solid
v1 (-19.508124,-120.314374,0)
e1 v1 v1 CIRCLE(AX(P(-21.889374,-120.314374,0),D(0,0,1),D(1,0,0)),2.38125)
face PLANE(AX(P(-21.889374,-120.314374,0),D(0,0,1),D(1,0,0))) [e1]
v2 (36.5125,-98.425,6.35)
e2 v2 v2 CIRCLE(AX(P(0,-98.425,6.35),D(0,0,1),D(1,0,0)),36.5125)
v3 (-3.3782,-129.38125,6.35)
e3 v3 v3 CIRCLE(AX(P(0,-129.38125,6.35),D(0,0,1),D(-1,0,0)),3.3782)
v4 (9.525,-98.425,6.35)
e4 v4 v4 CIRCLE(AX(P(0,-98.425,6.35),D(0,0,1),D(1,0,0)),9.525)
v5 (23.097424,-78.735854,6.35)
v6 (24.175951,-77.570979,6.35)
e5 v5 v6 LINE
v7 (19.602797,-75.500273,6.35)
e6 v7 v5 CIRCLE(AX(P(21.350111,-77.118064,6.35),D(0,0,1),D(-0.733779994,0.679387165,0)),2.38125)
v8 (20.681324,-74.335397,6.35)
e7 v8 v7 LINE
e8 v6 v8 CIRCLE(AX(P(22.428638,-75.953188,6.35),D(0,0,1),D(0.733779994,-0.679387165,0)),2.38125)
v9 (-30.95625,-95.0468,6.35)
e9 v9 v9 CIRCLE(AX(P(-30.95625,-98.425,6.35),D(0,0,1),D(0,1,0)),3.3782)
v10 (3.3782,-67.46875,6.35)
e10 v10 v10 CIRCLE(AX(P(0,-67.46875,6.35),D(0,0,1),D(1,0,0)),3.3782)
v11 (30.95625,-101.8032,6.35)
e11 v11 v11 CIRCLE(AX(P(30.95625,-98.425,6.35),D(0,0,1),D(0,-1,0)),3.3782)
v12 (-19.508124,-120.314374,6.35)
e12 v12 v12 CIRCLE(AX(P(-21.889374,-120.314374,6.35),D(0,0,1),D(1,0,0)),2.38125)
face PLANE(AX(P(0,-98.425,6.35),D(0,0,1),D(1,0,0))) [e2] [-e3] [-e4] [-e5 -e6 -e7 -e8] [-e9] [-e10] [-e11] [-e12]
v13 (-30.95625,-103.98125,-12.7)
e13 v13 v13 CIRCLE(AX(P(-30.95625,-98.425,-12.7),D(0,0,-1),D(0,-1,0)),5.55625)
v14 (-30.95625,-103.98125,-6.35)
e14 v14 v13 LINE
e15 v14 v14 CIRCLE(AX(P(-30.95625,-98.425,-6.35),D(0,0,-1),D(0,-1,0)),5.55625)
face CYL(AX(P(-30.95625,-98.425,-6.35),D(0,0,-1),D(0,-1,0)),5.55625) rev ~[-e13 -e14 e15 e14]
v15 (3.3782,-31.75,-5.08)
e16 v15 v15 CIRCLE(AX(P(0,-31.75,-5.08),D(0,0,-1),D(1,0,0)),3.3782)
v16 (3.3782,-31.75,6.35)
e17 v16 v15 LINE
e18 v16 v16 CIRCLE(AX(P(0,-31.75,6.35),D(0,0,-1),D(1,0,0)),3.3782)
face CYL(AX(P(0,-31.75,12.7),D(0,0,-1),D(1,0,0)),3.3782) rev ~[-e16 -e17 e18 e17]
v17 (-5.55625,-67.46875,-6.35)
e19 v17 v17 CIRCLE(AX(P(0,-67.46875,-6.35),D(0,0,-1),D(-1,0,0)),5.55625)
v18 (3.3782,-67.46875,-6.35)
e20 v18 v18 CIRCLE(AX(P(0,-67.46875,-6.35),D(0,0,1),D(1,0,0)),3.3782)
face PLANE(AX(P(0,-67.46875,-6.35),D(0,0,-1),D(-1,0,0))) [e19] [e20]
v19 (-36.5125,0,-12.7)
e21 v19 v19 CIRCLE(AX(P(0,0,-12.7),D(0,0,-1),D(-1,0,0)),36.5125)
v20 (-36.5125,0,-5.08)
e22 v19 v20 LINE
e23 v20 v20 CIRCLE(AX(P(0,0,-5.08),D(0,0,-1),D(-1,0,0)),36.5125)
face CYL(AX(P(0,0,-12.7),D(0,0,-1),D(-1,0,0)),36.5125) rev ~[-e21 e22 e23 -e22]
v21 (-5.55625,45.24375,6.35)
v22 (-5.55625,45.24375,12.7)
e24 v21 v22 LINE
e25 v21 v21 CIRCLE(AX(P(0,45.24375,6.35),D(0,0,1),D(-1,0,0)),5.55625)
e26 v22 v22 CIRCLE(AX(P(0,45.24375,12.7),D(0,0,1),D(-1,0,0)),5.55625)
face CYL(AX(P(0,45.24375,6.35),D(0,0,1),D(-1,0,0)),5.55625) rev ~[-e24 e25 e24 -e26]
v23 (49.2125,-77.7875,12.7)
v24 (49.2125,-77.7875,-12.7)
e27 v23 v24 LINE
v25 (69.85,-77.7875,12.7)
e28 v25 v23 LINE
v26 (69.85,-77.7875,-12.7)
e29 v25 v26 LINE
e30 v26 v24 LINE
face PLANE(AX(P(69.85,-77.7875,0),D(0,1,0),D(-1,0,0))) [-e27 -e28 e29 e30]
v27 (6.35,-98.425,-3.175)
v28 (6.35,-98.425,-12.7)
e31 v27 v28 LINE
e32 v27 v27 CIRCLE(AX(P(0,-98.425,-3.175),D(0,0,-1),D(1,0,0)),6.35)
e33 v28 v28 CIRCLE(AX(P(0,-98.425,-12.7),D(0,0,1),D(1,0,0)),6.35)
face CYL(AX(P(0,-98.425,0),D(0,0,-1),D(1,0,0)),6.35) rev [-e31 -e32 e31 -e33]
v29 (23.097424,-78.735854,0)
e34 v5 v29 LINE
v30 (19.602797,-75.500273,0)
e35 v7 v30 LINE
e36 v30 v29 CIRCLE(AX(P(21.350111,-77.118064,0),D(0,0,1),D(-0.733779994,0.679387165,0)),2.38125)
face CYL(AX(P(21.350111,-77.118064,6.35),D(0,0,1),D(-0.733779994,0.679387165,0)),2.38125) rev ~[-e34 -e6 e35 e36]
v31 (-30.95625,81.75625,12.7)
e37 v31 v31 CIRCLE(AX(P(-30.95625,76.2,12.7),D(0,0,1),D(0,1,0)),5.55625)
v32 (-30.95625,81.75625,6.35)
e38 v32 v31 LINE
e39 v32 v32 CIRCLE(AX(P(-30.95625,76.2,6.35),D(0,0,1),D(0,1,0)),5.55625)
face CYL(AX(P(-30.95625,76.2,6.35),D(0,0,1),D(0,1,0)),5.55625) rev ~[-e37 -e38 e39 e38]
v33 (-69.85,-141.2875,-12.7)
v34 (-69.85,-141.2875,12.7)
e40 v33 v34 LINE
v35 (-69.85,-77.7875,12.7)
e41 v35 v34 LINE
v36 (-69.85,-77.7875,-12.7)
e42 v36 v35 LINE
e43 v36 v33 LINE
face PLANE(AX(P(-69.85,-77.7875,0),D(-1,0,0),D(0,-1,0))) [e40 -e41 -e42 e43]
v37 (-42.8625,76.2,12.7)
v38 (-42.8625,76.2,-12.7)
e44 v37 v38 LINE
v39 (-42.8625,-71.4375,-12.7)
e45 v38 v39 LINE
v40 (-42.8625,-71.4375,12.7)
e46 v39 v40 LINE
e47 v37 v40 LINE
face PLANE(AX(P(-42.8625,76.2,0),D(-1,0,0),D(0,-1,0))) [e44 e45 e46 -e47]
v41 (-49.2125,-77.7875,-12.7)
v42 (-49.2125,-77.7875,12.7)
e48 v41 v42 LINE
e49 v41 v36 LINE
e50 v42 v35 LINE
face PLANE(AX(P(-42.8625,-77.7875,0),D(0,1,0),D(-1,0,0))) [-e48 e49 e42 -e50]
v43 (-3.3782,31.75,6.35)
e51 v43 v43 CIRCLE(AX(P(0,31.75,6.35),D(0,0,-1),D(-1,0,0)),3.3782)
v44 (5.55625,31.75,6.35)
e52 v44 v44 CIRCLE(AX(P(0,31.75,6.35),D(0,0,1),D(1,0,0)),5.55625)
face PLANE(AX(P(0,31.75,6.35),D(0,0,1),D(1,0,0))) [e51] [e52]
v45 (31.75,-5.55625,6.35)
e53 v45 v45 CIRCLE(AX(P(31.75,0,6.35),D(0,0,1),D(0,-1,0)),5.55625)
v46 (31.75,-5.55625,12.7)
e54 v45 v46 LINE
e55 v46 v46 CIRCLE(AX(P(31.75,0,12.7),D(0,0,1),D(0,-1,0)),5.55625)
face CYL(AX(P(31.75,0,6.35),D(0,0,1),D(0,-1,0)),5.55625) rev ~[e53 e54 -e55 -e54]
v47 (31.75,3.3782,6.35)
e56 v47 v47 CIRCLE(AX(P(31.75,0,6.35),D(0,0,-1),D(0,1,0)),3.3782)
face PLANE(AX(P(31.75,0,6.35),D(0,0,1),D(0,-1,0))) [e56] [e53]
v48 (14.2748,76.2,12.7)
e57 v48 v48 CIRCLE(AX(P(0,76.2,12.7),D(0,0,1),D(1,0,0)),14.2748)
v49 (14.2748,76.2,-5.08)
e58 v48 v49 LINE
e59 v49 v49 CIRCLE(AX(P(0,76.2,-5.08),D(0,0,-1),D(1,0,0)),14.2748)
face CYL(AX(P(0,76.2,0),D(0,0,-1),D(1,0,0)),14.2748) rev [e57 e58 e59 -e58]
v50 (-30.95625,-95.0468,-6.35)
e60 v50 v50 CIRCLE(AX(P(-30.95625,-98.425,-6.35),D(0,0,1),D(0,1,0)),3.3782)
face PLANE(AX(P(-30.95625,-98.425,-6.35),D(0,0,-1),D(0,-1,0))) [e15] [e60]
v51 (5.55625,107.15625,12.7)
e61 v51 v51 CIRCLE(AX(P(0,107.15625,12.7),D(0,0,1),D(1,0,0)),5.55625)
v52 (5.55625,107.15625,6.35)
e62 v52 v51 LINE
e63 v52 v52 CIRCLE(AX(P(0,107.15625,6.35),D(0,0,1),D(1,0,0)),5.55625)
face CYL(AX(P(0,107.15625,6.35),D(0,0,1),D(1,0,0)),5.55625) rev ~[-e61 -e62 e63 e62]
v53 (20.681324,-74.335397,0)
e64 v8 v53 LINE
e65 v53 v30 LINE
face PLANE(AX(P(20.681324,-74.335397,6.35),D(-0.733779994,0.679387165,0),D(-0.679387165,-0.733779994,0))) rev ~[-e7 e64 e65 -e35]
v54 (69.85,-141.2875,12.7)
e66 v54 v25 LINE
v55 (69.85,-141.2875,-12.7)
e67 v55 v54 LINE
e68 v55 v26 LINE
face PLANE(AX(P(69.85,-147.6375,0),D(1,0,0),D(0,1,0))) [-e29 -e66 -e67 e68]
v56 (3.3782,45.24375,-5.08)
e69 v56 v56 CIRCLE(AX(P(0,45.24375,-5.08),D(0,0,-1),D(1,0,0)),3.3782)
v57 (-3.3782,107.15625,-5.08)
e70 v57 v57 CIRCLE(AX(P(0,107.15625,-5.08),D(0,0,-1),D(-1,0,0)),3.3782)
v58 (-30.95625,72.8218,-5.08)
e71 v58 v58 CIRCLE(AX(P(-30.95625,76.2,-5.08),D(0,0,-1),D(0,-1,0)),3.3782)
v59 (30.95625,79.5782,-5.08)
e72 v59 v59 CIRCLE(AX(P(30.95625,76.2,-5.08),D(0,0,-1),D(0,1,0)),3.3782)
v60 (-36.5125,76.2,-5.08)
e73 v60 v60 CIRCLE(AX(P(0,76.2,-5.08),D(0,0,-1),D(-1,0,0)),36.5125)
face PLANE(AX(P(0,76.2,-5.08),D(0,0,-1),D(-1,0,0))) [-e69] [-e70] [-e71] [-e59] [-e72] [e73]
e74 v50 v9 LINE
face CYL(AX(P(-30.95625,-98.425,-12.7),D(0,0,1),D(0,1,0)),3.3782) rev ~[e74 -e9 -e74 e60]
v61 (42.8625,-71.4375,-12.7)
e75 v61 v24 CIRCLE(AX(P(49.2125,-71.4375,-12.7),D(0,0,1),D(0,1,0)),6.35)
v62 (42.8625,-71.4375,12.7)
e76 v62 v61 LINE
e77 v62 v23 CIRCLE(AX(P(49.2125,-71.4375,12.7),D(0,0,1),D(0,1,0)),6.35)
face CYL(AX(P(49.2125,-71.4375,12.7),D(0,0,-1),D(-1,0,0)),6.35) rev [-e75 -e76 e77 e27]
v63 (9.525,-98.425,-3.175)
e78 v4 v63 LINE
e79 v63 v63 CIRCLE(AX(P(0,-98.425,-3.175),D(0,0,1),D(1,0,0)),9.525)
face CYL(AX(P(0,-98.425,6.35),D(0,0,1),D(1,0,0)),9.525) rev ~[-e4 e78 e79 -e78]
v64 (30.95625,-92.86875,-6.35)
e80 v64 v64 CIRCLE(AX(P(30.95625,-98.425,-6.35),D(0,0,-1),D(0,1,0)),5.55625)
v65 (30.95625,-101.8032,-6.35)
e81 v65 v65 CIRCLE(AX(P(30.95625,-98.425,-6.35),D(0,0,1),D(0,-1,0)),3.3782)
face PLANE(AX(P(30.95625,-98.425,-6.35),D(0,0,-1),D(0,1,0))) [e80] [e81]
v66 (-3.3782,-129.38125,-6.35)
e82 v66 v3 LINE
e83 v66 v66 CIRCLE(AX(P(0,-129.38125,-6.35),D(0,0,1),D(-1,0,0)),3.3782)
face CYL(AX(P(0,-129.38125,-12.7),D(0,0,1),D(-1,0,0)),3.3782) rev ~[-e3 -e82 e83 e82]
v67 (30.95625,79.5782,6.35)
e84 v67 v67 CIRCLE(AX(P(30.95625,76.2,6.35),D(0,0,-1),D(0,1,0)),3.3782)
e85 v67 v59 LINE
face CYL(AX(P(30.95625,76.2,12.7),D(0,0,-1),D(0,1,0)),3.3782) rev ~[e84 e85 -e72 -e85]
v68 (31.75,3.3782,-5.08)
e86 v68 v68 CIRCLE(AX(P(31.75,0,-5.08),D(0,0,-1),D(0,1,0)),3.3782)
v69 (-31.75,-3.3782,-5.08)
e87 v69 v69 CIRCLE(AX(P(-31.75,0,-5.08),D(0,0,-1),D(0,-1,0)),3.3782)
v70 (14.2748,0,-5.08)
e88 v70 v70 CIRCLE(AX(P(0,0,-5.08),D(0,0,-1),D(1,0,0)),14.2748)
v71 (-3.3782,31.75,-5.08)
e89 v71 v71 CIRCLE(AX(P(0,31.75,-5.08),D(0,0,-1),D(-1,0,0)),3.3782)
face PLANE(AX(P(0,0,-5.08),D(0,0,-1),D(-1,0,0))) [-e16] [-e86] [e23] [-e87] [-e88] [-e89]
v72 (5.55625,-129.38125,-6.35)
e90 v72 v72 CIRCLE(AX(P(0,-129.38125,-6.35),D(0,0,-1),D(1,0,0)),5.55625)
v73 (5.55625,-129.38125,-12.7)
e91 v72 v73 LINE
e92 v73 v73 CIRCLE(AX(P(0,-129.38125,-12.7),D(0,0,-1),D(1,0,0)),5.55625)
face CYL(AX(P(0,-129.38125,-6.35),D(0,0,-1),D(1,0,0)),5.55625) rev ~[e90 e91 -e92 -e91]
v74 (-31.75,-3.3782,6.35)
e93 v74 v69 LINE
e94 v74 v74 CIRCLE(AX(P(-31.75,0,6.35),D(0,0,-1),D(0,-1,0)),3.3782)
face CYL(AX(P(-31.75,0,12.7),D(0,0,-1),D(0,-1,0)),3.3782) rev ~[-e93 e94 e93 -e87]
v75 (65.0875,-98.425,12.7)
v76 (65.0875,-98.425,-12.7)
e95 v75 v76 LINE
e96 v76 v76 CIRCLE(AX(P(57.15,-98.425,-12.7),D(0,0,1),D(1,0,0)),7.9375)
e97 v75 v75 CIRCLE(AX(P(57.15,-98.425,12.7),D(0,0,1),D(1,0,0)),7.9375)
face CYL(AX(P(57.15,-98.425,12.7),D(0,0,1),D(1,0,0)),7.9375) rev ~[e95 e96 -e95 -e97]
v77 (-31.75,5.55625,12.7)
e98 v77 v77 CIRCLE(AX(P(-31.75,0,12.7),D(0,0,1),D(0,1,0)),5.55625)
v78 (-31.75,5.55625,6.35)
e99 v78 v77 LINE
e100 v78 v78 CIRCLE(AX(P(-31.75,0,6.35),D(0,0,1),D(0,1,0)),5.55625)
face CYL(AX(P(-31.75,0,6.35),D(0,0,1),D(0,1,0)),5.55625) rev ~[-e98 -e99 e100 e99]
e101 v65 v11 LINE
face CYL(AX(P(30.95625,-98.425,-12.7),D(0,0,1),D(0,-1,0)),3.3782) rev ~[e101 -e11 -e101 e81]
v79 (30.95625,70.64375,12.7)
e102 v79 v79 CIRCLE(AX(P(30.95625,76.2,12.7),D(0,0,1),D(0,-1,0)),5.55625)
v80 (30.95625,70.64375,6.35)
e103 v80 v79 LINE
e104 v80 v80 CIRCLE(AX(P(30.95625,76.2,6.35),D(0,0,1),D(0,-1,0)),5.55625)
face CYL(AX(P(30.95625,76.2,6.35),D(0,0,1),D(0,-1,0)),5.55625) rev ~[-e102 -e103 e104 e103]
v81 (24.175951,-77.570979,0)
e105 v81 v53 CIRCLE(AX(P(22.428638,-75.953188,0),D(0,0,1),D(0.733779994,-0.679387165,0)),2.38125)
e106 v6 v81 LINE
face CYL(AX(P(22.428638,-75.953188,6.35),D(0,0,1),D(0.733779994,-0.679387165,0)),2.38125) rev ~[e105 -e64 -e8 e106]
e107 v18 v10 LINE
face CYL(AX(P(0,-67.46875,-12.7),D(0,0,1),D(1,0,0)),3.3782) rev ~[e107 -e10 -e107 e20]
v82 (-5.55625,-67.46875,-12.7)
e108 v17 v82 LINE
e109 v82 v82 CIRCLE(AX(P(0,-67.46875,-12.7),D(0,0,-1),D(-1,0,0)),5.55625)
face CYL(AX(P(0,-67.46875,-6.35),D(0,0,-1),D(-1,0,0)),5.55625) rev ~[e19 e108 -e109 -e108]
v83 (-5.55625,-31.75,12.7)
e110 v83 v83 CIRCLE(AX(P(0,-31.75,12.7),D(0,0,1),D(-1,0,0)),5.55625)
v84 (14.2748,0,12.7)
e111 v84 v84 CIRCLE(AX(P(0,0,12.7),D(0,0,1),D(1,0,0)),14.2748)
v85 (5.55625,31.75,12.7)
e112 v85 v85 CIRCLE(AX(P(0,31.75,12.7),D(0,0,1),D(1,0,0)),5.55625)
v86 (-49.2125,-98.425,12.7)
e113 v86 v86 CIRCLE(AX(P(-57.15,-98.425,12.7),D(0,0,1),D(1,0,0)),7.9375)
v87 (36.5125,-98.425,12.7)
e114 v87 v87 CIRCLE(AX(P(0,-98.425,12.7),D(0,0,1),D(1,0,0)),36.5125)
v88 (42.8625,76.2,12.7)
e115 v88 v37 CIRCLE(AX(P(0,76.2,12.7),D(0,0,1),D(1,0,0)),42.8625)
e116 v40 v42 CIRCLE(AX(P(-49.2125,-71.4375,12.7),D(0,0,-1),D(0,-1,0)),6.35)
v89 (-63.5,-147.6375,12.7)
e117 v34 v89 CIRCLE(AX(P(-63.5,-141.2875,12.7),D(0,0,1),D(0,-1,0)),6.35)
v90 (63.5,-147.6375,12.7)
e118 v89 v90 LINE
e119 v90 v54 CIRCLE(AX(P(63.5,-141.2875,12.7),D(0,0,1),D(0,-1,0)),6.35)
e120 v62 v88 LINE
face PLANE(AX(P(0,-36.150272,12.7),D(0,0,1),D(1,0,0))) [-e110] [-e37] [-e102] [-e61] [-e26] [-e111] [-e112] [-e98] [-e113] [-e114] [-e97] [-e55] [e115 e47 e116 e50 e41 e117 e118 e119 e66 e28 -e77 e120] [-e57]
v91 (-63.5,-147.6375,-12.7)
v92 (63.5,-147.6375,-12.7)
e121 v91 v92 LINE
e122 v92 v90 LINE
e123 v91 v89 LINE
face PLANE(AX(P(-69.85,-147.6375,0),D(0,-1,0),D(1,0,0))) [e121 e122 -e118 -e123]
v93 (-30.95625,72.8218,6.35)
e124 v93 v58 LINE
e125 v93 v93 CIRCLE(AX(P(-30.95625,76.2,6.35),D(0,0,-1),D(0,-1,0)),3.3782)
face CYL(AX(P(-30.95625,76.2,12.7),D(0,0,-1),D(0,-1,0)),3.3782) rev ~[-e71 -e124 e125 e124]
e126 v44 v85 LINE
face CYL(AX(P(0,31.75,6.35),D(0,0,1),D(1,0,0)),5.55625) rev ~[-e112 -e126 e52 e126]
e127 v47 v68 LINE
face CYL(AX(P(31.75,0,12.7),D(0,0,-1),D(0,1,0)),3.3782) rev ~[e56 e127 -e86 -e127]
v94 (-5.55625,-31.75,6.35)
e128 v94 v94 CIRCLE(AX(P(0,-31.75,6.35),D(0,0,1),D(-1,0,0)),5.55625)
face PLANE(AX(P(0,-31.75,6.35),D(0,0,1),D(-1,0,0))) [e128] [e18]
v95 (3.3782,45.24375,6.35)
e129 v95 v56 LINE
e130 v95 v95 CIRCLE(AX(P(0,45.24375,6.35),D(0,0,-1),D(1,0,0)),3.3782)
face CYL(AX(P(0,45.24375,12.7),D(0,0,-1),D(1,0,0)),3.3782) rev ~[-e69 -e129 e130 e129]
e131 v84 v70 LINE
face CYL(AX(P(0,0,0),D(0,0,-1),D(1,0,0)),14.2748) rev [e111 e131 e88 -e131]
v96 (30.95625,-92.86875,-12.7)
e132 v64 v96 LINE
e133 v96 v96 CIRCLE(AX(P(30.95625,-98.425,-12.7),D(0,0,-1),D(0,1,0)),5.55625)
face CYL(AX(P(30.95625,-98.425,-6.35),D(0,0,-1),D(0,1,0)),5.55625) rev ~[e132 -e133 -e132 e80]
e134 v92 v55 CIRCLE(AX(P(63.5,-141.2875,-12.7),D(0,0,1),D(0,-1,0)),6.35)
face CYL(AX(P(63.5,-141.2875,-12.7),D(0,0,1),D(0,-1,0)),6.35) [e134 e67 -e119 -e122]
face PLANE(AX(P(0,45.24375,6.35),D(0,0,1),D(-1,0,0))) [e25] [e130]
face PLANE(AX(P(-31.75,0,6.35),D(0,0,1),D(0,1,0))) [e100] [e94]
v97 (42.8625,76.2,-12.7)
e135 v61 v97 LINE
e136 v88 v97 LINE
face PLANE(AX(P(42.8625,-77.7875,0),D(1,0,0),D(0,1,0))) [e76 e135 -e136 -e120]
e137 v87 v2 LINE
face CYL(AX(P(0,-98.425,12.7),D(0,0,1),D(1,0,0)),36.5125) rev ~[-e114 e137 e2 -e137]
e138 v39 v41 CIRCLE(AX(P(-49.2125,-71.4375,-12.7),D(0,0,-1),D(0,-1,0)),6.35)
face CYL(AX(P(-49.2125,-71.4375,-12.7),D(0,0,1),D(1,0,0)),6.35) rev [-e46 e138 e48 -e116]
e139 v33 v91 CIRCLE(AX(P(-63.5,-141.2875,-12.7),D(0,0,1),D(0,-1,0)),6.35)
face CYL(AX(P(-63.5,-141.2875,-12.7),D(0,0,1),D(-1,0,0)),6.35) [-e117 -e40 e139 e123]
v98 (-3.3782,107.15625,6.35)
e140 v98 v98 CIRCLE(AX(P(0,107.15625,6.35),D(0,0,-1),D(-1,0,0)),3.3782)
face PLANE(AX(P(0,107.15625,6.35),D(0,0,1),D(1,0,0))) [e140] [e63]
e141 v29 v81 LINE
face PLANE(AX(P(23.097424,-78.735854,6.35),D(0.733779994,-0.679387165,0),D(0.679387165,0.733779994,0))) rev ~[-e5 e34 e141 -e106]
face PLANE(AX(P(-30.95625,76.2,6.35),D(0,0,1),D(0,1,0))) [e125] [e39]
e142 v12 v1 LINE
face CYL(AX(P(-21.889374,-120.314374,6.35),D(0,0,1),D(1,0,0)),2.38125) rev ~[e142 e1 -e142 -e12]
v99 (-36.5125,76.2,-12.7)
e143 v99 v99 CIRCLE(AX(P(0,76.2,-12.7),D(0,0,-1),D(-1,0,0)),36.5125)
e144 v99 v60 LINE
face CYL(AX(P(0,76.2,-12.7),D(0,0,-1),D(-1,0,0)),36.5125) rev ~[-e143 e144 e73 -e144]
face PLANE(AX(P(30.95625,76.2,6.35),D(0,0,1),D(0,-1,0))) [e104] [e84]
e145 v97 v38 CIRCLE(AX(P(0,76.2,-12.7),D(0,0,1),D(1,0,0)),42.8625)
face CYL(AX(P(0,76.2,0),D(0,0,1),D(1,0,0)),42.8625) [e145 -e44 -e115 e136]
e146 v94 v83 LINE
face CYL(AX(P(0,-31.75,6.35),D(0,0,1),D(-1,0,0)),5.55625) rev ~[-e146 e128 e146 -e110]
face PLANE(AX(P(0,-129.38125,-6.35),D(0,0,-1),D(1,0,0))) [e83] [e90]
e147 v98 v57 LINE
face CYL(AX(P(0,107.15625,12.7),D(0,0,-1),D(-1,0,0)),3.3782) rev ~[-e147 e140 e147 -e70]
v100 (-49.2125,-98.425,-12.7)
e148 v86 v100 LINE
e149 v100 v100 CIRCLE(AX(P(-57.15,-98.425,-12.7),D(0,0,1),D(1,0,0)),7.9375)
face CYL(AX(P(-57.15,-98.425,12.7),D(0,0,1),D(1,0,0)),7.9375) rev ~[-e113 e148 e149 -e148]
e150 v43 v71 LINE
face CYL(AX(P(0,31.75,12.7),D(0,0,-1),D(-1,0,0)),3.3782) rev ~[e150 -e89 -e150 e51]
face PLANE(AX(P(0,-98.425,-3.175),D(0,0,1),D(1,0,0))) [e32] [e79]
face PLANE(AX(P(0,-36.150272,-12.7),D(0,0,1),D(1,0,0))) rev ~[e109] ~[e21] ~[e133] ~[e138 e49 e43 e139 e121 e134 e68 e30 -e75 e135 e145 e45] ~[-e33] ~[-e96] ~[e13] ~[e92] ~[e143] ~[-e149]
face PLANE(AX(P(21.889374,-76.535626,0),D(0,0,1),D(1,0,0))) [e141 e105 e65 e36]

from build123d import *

# Parameters (mm, degrees)
BOLT_CIRCLE_R                                     = 14.2748
BOLT_CIRCLE_R_2                                   = 6.35
BASE_DEPTH                                        = 12.7
STRUCTURE_TUBE_CONNECTION_COUNTERBORE_D           = 6.7564
STRUCTURE_TUBE_CONNECTION_COUNTERBORE_CBORE_D     = 11.1125
STRUCTURE_TUBE_CONNECTION_COUNTERBORE_CBORE_DEPTH = 6.35
STRUCTURE_TUBE_CONNECTION_COUNTERBORE_PA_COUNT    = 4
SPINDLE_CONNECTION_COUNTERBORE_D                  = 6.7564
SPINDLE_CONNECTION_COUNTERBORE_CBORE_D            = 11.1125
SPINDLE_CONNECTION_COUNTERBORE_CBORE_DEPTH        = 6.35
SPINDLE_CONNECTION_COUNTERBORE_PATTERN_COUNT      = 4
SKETCH16_R                                        = 36.5125
STRUCTURE_TUBE_MOUNTING_POCKET_DEPTH              = 6.35
SKETCH17_R                                        = 36.5125
SPINDLE_MOUNTING_POCKET_DEPTH                     = 7.62
SKETCH18_R                                        = 9.525
LEAD_SCREW_THROUGH_HOLE_DEPTH                     = 9.525
SKETCH20_R                                        = 7.9375
RAIL_MOUNTING_PILOT_HOLES_DEPTH                   = 166.290695159
SKETCH27_R                                        = 2.38125
ALIGNMENT_FEATURES_DEPTH                          = 6.35
GENERIC_ROUNDING_FILLET_R                         = 6.35
WOOD_SPINDLE_CBORE_D                              = 6.7564
WOOD_SPINDLE_CBORE_CBORE_D                        = 11.1125
WOOD_SPINDLE_CBORE_CBORE_DEPTH                    = 6.35
CIRPATTERN1_COUNT                                 = 4
SKETCH30_R                                        = 36.5125
CUT_EXTRUDE1_DEPTH                                = 7.62


with BuildPart() as part:
    # Bolt circle → Base (new, symmetric)
    with BuildSketch(Plane.XY):
        with BuildLine():
            Line((-42.8625, 76.2), (-42.8625, -77.7875))
            Line((-42.8625, -77.7875), (-69.85, -77.7875))
            Line((-69.85, -77.7875), (-69.85, -147.6375))
            Line((-69.85, -147.6375), (69.85, -147.6375))
            Line((69.85, -147.6375), (69.85, -77.7875))
            Line((69.85, -77.7875), (42.8625, -77.7875))
            Line((42.8625, -77.7875), (42.8625, 76.2))
            ThreePointArc((42.8625, 76.2), (0, 119.0625), (-42.8625, 76.2))
        make_face()
        with Locations((0, 76.2)):
            Circle(BOLT_CIRCLE_R, mode=Mode.SUBTRACT)
        Circle(BOLT_CIRCLE_R, mode=Mode.SUBTRACT)
        with Locations((0, -98.425)):
            Circle(BOLT_CIRCLE_R_2, mode=Mode.SUBTRACT)
    extrude(amount=BASE_DEPTH, both=True)

    # Structure tube connection counterbore (through all)
    with Locations(Plane(origin=(0, 0, -12.7), x_dir=(-1, 0, 0), z_dir=(0, 0, -1))):
        with Locations((0, -67.46875)):
            structure_tube_connection_counterbore = CounterBoreHole(STRUCTURE_TUBE_CONNECTION_COUNTERBORE_D / 2, STRUCTURE_TUBE_CONNECTION_COUNTERBORE_CBORE_D / 2, STRUCTURE_TUBE_CONNECTION_COUNTERBORE_CBORE_DEPTH)

    # Structure tube connection counterbore pattern: Structure tube connection counterbore ×4 about axis
    structure_tube_connection_counterbore_pa_axis = Axis((0, -98.425, 12.7), (0, 0, -1))
    for i in range(1, STRUCTURE_TUBE_CONNECTION_COUNTERBORE_PA_COUNT):
        add(structure_tube_connection_counterbore.rotate(structure_tube_connection_counterbore_pa_axis, i * 360 / STRUCTURE_TUBE_CONNECTION_COUNTERBORE_PA_COUNT), mode=Mode.SUBTRACT)

    # Spindle connection counterbore (through all)
    with Locations(Plane.XY.offset(12.7)):
        with Locations((0, 31.75)):
            spindle_connection_counterbore = CounterBoreHole(SPINDLE_CONNECTION_COUNTERBORE_D / 2, SPINDLE_CONNECTION_COUNTERBORE_CBORE_D / 2, SPINDLE_CONNECTION_COUNTERBORE_CBORE_DEPTH)

    # Spindle connection counterbore pattern: Spindle connection counterbore ×4 about axis
    spindle_connection_counterbore_pattern_axis = Axis((0, 0, 12.7), (0, 0, -1))
    for i in range(1, SPINDLE_CONNECTION_COUNTERBORE_PATTERN_COUNT):
        add(spindle_connection_counterbore.rotate(spindle_connection_counterbore_pattern_axis, i * 360 / SPINDLE_CONNECTION_COUNTERBORE_PATTERN_COUNT), mode=Mode.SUBTRACT)

    # Sketch16 → Structure tube mounting pocket (cut)
    with BuildSketch(Plane.XY.offset(12.7)):
        with Locations((0, -98.425)):
            Circle(SKETCH16_R)
    extrude(amount=-STRUCTURE_TUBE_MOUNTING_POCKET_DEPTH, mode=Mode.SUBTRACT)

    # Sketch17 → Spindle mounting pocket (cut)
    with BuildSketch(Plane(origin=(0, 0, -12.7), x_dir=(-1, 0, 0), z_dir=(0, 0, -1))):
        Circle(SKETCH17_R)
    extrude(amount=-SPINDLE_MOUNTING_POCKET_DEPTH, mode=Mode.SUBTRACT)

    # Sketch18 → Lead screw through hole (cut)
    with BuildSketch(Plane.XY.offset(6.35)):
        with Locations((0, -98.425)):
            Circle(SKETCH18_R)
    extrude(amount=-LEAD_SCREW_THROUGH_HOLE_DEPTH, mode=Mode.SUBTRACT)

    # Sketch20 → Rail mounting pilot_holes (cut, through all)
    with BuildSketch(Plane.XY.offset(12.7)):
        with Locations((57.15, -98.425)):
            Circle(SKETCH20_R)
        with Locations((-57.15, -98.425)):
            Circle(SKETCH20_R)
    extrude(amount=-RAIL_MOUNTING_PILOT_HOLES_DEPTH, mode=Mode.SUBTRACT)

    # Sketch27 → Alignment_features (cut)
    with BuildSketch(Plane.XY.offset(6.35)):
        with Locations((-21.889374295, -120.314374295)):
            Circle(SKETCH27_R)
        with BuildLine():
            Line((20.681324246, -74.335397148), (19.602797121, -75.500272889))
            ThreePointArc((19.602797121, -75.500272889), (19.732320046, -78.865377187), (23.097424344, -78.735854262))
            Line((23.097424344, -78.735854262), (24.175951469, -77.570978521))
            ThreePointArc((24.175951469, -77.570978521), (24.046428544, -74.205874223), (20.681324246, -74.335397148))
        make_face()
    extrude(amount=-ALIGNMENT_FEATURES_DEPTH, mode=Mode.SUBTRACT)

    # Generic_rounding_fillet
    generic_rounding_fillet_edges = [part.edges().sort_by_distance(p)[0] for p in [
        (42.8625, -77.7875, 0),
        (-42.8625, -77.7875, 0),
        (-69.85, -147.6375, 0),
        (69.85, -147.6375, 0),
    ]]
    fillet(generic_rounding_fillet_edges, radius=GENERIC_ROUNDING_FILLET_R)

    # wood_spindle_CBORE (through all)
    with Locations(Plane.XY.offset(12.7)):
        with Locations((0, 107.15625)):
            wood_spindle_cbore = CounterBoreHole(WOOD_SPINDLE_CBORE_D / 2, WOOD_SPINDLE_CBORE_CBORE_D / 2, WOOD_SPINDLE_CBORE_CBORE_DEPTH)

    # CirPattern1: wood_spindle_CBORE ×4 about axis
    cirpattern1_axis = Axis((0, 76.2, 12.7), (0, 0, -1))
    for i in range(1, CIRPATTERN1_COUNT):
        add(wood_spindle_cbore.rotate(cirpattern1_axis, i * 360 / CIRPATTERN1_COUNT), mode=Mode.SUBTRACT)

    # Sketch30 → Cut-Extrude1 (cut)
    with BuildSketch(Plane(origin=(0, 0, -12.7), x_dir=(-1, 0, 0), z_dir=(0, 0, -1))):
        with Locations((0, 76.2)):
            Circle(SKETCH30_R)
    extrude(amount=-CUT_EXTRUDE1_DEPTH, mode=Mode.SUBTRACT)


solid = part.part
